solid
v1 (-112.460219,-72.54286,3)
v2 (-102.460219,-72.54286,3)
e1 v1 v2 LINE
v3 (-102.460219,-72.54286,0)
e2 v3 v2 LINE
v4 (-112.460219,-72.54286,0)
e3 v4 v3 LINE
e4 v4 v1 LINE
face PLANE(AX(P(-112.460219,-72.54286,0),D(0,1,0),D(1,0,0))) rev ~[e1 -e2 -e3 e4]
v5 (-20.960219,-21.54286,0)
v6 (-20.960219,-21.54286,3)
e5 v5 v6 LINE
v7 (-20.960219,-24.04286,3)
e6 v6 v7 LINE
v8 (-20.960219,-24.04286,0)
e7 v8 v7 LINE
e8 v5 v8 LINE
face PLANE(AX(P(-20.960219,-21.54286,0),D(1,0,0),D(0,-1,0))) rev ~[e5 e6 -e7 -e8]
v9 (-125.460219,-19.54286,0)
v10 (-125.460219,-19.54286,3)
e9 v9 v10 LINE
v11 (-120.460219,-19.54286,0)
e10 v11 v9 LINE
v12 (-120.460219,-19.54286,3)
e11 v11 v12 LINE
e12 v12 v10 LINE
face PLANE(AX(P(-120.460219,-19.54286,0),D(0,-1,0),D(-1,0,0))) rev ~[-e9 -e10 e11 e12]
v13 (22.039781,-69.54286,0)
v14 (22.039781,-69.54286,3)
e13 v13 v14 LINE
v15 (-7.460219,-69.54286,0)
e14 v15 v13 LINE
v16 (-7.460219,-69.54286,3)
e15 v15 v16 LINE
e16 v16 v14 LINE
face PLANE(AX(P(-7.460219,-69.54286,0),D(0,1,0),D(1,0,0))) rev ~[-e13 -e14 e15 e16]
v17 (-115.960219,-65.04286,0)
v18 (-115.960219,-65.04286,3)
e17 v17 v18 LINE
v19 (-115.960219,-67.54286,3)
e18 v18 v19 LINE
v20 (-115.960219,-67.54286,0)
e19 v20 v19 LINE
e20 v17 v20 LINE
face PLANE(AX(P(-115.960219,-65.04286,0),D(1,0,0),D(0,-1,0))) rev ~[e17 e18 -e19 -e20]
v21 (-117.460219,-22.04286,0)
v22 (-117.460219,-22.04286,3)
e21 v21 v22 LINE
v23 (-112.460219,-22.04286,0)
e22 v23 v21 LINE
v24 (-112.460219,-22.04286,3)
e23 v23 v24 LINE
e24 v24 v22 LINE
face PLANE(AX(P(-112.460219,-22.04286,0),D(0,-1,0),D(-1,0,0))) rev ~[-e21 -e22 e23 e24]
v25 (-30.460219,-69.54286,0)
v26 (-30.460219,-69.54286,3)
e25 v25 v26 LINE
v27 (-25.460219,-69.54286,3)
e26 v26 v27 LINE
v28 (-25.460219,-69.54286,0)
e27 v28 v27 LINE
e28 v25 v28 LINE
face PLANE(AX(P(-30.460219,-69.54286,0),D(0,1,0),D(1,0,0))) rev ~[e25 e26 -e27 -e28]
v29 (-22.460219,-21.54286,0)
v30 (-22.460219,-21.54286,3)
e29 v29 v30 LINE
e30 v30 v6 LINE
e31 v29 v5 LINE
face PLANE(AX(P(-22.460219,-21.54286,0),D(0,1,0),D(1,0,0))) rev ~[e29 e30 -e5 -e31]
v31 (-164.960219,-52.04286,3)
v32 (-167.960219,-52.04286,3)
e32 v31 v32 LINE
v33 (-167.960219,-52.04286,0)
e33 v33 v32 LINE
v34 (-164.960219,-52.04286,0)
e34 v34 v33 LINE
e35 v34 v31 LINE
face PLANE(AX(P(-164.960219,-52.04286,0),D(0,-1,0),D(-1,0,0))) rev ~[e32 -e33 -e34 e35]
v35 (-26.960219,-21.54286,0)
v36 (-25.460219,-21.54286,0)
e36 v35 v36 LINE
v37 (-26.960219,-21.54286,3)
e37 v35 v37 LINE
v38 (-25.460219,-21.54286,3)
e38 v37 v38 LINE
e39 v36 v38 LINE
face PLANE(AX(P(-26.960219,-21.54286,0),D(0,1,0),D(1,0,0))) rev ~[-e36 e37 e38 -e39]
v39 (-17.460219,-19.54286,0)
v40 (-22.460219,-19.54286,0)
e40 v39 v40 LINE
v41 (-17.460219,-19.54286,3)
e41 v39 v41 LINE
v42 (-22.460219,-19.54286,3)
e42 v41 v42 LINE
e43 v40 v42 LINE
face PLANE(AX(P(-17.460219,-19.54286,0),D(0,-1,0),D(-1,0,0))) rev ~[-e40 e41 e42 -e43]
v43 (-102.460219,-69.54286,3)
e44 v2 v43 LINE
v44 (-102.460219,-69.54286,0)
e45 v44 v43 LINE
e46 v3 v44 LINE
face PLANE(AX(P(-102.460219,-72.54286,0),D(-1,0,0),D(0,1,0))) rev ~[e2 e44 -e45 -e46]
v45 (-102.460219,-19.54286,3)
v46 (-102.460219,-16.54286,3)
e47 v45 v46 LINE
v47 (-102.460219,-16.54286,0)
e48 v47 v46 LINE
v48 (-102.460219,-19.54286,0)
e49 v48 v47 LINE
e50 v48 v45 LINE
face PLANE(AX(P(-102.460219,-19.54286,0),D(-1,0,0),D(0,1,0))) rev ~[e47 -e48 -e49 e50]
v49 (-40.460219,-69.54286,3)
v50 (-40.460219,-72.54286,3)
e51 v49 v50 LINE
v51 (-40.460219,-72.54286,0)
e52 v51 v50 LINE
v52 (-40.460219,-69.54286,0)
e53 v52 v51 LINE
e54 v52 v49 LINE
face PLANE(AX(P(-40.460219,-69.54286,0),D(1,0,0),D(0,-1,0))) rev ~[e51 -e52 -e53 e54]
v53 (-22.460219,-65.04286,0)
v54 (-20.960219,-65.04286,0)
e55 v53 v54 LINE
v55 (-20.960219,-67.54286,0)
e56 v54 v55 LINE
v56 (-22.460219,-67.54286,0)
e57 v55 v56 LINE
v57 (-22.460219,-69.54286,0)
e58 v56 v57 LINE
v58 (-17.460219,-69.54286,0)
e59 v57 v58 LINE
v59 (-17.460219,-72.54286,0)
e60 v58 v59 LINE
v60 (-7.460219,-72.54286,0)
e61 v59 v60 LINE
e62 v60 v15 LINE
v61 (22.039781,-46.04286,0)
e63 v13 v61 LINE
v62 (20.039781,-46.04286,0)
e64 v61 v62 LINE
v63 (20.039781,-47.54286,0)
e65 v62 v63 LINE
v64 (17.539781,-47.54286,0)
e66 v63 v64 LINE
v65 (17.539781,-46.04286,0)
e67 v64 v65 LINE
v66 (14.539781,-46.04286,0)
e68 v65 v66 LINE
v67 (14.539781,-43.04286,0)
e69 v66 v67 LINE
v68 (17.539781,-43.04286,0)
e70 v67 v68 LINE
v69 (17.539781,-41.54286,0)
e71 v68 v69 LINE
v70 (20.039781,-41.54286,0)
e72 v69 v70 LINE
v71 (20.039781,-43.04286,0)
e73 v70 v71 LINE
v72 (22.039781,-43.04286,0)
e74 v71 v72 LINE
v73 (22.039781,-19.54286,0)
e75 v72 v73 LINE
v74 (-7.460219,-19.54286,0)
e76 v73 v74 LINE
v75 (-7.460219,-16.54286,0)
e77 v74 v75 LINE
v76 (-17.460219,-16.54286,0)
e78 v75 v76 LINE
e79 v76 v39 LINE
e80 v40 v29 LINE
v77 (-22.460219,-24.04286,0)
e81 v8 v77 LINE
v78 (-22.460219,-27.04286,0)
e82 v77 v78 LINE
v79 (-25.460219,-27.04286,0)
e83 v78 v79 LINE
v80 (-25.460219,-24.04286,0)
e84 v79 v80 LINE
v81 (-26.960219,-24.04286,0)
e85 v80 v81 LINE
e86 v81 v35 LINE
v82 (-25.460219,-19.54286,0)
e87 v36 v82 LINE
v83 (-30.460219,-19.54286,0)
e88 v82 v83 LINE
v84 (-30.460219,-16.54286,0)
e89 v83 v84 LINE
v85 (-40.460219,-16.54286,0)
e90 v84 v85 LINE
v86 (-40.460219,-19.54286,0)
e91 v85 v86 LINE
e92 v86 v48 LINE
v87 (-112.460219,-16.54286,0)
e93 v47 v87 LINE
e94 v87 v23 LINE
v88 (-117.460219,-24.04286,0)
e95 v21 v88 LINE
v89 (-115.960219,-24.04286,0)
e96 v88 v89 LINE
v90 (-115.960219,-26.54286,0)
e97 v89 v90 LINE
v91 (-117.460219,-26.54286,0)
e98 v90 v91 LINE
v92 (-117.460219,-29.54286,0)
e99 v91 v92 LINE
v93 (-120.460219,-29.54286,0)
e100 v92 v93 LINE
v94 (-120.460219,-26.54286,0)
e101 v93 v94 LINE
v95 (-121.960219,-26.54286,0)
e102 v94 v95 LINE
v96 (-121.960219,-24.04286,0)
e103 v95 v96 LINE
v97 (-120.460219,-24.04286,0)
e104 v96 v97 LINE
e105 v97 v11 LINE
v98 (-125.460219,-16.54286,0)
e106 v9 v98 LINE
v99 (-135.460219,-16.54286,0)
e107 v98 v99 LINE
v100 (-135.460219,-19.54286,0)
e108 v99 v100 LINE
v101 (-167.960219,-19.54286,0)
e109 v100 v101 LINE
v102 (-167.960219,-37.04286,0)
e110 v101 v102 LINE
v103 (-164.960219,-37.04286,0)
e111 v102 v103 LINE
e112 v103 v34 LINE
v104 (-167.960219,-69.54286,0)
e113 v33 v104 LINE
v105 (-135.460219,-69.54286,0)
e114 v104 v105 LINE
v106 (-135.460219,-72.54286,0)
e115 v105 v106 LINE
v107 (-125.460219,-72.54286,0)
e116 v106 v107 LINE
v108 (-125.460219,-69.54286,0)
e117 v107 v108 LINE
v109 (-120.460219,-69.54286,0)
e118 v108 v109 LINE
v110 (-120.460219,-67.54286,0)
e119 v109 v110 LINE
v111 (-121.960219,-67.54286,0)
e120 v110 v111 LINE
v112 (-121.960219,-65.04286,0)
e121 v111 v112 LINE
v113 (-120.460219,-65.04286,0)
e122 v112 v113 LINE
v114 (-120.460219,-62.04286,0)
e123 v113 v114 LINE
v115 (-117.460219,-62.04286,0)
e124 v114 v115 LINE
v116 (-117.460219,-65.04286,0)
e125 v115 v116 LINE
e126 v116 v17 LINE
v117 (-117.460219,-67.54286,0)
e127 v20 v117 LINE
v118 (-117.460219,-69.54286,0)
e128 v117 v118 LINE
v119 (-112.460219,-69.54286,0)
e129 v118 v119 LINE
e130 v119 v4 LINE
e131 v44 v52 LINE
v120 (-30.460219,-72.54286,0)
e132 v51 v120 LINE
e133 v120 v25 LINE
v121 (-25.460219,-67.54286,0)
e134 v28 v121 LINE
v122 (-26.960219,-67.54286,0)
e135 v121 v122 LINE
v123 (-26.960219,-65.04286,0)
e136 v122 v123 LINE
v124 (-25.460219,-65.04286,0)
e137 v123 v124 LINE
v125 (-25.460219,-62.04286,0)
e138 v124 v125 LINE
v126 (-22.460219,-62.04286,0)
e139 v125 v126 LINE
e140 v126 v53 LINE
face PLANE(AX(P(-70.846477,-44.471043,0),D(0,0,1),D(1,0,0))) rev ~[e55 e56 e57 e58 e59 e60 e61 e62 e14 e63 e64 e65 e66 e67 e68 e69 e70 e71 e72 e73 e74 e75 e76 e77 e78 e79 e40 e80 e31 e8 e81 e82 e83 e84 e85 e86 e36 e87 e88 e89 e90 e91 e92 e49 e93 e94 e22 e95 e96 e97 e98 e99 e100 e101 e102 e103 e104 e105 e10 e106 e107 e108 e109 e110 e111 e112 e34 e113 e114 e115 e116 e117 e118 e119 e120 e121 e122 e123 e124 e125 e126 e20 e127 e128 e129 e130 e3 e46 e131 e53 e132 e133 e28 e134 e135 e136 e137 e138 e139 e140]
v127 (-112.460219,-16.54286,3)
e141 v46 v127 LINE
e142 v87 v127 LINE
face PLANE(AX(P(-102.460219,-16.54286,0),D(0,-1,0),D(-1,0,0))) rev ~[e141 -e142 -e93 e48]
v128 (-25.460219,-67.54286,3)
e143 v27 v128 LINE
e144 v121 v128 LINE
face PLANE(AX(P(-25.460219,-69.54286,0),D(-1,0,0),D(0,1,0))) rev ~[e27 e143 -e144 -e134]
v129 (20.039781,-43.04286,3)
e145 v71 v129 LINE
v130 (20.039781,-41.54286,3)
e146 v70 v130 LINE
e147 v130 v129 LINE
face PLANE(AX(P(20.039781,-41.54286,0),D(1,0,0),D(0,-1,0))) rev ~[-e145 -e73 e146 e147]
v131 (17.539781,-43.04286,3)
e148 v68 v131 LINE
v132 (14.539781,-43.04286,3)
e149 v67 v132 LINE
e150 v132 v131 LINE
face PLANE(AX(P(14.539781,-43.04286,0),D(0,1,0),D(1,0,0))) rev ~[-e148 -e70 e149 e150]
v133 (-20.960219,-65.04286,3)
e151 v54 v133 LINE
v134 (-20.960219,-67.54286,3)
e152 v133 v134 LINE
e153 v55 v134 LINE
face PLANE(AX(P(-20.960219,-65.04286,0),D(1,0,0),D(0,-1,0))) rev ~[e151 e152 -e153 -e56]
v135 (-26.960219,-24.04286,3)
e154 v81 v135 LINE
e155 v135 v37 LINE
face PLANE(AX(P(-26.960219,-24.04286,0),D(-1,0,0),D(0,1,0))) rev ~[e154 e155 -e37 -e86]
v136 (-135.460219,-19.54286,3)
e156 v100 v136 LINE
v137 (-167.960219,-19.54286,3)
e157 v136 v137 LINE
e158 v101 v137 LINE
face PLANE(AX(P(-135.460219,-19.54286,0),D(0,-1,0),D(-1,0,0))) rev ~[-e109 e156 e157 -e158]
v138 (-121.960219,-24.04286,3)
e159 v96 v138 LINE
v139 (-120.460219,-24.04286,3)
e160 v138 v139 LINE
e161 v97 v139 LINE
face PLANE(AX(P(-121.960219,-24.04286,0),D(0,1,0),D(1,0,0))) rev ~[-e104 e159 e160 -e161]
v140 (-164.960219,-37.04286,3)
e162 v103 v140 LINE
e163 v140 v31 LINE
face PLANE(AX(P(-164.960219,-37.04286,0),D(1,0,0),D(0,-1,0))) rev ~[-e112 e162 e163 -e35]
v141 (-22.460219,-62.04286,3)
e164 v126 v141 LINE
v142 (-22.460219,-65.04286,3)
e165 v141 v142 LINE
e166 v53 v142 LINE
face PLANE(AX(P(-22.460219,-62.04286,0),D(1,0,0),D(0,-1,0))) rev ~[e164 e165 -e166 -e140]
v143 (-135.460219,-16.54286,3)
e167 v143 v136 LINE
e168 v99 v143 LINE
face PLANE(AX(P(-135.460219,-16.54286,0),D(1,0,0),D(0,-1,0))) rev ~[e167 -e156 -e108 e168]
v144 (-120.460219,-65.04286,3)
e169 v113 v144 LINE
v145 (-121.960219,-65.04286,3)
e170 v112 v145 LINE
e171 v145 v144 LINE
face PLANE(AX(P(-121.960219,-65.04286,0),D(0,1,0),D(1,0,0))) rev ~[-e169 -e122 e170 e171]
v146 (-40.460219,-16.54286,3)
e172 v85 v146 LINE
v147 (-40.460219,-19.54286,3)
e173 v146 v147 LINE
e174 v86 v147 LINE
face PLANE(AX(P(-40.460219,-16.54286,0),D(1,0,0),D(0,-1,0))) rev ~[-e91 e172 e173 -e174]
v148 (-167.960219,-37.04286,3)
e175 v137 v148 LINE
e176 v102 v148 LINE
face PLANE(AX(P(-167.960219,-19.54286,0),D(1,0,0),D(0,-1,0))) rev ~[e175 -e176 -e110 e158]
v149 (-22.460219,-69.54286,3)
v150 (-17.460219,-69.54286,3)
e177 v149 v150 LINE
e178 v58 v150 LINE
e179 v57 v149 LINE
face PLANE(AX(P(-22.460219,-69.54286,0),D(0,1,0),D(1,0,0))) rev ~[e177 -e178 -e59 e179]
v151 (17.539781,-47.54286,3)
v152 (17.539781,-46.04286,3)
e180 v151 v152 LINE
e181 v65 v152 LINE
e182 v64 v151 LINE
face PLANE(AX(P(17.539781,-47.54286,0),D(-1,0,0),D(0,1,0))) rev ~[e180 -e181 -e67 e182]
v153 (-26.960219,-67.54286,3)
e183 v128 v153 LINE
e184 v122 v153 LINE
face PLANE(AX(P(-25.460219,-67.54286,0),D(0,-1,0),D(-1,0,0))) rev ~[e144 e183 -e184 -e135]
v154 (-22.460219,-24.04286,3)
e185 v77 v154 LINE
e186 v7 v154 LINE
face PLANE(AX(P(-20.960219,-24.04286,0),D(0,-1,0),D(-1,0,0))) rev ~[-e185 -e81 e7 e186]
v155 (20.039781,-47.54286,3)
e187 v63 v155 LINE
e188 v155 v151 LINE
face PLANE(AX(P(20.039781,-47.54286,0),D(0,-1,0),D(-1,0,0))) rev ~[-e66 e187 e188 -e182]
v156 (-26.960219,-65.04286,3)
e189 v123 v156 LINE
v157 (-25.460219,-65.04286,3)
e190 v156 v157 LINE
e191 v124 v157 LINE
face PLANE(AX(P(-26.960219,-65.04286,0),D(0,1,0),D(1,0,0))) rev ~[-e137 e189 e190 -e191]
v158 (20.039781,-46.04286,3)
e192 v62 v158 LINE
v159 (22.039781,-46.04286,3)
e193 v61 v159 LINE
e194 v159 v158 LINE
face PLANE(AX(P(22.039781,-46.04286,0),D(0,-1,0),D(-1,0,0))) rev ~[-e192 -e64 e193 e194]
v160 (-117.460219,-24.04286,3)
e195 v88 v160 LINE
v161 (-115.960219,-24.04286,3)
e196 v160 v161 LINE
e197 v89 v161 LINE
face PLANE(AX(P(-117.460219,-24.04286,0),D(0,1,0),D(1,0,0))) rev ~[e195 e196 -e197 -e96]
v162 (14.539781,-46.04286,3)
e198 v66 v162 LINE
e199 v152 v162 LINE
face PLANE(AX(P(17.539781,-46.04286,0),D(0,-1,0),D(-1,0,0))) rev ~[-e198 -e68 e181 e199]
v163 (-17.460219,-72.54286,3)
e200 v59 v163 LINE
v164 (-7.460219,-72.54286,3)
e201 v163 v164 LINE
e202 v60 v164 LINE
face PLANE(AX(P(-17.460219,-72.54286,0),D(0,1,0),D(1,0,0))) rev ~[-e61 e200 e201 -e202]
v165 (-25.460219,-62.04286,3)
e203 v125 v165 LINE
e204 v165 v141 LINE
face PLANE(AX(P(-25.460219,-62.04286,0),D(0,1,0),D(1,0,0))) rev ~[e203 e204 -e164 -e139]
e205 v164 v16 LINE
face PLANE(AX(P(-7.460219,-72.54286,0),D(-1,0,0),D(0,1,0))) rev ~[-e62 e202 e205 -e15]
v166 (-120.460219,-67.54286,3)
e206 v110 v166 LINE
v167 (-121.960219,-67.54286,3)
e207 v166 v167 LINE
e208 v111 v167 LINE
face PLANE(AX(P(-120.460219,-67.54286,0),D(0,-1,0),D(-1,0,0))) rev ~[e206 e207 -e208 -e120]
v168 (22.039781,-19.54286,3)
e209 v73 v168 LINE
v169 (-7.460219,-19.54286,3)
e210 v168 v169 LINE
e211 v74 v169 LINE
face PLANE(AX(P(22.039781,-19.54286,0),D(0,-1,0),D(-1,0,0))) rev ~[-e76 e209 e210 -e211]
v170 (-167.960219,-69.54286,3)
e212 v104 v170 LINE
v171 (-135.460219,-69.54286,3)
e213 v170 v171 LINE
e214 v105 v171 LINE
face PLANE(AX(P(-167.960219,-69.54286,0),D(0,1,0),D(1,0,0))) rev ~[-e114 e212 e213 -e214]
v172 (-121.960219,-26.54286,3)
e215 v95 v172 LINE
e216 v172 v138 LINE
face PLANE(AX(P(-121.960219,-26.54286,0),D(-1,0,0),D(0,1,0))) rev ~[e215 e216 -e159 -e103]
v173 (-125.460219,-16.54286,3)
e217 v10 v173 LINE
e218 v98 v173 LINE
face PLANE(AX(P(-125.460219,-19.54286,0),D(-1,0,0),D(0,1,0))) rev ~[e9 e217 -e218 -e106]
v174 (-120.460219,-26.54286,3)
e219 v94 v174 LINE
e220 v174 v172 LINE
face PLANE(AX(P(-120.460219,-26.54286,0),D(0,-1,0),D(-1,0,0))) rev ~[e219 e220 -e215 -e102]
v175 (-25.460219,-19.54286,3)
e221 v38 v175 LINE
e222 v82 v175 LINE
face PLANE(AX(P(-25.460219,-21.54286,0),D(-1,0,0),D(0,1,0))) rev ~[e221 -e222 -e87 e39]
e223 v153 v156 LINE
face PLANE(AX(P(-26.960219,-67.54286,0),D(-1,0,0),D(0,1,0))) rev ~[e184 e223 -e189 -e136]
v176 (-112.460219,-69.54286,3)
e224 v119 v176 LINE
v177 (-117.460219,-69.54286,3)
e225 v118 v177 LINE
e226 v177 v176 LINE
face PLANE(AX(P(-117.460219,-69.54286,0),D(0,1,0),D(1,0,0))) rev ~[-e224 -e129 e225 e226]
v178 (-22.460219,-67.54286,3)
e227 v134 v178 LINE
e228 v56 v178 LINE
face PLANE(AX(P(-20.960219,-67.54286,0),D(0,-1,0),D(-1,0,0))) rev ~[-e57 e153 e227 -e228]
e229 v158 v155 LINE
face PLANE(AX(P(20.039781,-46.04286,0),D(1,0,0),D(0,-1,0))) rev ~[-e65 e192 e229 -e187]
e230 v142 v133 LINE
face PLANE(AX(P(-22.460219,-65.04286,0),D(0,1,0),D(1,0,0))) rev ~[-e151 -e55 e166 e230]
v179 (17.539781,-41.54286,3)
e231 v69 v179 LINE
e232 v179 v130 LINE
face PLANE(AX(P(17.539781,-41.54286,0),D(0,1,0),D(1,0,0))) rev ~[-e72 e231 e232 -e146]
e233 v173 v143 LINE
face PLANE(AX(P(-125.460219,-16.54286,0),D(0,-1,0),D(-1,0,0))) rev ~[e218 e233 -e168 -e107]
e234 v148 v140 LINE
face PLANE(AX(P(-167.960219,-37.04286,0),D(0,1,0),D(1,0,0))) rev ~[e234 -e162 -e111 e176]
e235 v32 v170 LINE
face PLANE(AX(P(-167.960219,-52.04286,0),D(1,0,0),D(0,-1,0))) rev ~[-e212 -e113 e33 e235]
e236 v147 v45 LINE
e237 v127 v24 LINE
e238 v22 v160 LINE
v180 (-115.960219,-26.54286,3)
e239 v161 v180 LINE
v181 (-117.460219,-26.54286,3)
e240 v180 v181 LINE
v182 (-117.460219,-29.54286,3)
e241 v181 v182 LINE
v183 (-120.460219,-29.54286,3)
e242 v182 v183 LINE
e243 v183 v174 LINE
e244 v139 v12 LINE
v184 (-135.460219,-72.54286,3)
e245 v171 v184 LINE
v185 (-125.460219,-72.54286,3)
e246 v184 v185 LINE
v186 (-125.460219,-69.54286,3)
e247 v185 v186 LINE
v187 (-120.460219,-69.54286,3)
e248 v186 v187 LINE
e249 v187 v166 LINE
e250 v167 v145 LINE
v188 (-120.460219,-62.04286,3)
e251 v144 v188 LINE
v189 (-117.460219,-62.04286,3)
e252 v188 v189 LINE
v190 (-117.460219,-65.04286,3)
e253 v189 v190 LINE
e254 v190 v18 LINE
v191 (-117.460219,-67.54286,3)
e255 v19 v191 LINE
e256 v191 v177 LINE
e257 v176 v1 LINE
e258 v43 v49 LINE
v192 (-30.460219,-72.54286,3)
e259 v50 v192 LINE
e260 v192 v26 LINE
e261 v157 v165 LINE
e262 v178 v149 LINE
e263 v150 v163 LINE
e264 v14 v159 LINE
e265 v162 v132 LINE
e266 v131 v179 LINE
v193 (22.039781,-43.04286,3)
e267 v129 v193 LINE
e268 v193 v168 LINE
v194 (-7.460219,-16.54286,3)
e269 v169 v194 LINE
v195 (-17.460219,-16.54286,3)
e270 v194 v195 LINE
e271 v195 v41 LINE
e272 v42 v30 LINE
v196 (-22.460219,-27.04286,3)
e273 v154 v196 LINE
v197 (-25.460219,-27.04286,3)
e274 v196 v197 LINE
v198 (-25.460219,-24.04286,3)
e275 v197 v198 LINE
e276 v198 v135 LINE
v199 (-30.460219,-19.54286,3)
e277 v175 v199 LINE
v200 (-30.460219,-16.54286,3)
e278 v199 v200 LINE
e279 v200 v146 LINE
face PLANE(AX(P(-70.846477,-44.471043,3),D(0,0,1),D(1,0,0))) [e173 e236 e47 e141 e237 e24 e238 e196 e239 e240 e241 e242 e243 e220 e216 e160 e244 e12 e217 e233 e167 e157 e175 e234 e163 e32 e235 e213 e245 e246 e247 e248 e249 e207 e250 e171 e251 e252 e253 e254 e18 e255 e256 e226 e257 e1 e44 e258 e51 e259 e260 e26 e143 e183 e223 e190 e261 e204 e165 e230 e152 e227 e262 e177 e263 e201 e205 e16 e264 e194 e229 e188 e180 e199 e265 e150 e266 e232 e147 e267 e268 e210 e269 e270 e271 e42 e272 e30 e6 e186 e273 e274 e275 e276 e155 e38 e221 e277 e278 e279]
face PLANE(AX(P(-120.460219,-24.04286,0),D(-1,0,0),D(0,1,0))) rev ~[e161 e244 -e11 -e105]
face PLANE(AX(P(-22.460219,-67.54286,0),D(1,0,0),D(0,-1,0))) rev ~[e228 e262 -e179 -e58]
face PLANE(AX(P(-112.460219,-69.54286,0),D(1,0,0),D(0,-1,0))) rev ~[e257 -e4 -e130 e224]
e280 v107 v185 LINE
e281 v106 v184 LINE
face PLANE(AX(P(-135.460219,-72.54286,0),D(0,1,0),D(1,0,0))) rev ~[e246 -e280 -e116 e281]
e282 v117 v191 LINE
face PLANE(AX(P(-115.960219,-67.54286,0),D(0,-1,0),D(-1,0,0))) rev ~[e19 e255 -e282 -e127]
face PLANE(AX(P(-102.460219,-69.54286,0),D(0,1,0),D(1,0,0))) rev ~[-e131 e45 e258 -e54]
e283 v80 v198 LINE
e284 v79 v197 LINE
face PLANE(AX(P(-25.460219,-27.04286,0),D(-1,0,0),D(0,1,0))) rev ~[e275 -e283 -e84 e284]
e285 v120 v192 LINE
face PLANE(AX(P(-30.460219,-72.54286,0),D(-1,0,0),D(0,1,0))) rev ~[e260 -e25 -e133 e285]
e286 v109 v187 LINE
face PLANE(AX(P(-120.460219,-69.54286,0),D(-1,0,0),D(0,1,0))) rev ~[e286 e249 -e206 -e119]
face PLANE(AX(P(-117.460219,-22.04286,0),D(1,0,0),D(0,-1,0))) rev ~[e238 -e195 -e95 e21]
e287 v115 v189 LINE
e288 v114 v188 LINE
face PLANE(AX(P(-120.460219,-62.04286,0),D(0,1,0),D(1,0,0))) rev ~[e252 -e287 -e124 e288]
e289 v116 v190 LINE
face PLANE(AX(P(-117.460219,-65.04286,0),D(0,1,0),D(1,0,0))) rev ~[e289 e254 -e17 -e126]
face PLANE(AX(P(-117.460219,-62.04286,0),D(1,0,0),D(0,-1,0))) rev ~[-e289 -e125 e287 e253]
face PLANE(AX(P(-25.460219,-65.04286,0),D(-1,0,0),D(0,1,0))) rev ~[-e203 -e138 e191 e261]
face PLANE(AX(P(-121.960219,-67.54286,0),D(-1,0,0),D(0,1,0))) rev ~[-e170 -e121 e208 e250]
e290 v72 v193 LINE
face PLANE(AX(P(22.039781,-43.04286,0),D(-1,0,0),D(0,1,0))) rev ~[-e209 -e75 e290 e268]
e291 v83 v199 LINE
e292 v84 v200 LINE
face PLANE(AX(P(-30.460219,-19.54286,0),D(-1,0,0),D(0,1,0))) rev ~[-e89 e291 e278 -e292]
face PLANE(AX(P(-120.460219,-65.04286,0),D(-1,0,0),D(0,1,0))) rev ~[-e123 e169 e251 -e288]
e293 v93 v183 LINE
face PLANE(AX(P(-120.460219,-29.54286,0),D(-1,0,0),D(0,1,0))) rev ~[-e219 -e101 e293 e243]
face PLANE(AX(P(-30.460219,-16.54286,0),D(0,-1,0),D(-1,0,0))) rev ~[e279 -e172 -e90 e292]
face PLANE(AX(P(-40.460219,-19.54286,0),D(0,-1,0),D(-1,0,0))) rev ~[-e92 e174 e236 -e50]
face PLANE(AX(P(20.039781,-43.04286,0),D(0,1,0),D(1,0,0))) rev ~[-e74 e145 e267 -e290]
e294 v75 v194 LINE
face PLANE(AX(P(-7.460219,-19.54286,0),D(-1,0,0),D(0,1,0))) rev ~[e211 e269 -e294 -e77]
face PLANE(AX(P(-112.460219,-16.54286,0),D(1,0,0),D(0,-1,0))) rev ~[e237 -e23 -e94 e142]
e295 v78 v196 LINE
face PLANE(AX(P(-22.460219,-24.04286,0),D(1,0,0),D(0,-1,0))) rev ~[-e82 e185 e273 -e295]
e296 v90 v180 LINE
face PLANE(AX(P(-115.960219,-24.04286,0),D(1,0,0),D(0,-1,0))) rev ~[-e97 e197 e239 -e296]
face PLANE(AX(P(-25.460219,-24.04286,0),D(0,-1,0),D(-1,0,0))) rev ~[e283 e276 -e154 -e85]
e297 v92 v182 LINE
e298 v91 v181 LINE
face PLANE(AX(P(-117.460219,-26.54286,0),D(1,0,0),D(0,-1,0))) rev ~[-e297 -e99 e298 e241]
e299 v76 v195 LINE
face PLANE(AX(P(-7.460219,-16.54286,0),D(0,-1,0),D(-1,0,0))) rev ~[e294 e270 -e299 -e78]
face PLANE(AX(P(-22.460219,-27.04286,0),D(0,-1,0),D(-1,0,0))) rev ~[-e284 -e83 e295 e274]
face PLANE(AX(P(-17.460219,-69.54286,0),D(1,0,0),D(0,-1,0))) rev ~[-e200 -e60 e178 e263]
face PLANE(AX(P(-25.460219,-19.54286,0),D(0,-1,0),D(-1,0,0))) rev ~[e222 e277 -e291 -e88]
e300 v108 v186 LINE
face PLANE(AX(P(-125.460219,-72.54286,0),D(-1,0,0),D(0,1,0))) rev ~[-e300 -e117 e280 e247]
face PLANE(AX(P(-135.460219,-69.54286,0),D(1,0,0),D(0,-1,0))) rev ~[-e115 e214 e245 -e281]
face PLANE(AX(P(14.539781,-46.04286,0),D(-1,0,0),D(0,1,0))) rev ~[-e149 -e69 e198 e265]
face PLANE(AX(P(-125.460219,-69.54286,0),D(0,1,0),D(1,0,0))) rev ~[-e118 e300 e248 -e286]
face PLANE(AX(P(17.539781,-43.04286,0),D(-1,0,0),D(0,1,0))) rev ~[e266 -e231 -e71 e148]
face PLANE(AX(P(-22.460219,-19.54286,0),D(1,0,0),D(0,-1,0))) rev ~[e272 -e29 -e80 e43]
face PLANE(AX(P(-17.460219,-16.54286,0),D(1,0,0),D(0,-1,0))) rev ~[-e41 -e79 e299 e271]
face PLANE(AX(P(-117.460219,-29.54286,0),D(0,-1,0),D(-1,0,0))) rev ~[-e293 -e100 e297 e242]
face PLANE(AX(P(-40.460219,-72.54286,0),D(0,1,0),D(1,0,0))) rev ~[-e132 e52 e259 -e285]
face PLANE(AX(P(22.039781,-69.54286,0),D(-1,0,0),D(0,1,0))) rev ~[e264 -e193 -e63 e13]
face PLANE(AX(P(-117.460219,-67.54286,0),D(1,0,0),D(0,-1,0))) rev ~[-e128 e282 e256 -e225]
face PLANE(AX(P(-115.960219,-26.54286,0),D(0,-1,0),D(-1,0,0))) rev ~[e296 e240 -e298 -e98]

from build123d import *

# Parameters (mm, degrees)
F1_DEPTH = 3


with BuildPart() as f1:
    # F0 (on Top) → F1 (new body)
    with BuildSketch(Plane.XY):
        Polygon((22.039781, -43.04286), (22.039781, -19.54286), (-7.460219, -19.54286), (-7.460219, -16.54286), (-17.460219, -16.54286), (-17.460219, -19.54286), (-22.460219, -19.54286), (-22.460219, -21.54286), (-20.960219, -21.54286), (-20.960219, -24.04286), (-22.460219, -24.04286), (-22.460219, -27.04286), (-25.460219, -27.04286), (-25.460219, -24.04286), (-26.960219, -24.04286), (-26.960219, -21.54286), (-25.460219, -21.54286), (-25.460219, -19.54286), (-30.460219, -19.54286), (-30.460219, -16.54286), (-40.460219, -16.54286), (-40.460219, -19.54286), (-102.460219, -19.54286), (-102.460219, -16.54286), (-112.460219, -16.54286), (-112.460219, -22.04286), (-117.460219, -22.04286), (-117.460219, -24.04286), (-115.960219, -24.04286), (-115.960219, -26.54286), (-117.460219, -26.54286), (-117.460219, -29.54286), (-120.460219, -29.54286), (-120.460219, -26.54286), (-121.960219, -26.54286), (-121.960219, -24.04286), (-120.460219, -24.04286), (-120.460219, -19.54286), (-125.460219, -19.54286), (-125.460219, -16.54286), (-135.460219, -16.54286), (-135.460219, -19.54286), (-167.960219, -19.54286), (-167.960219, -37.04286), (-164.960219, -37.04286), (-164.960219, -52.04286), (-167.960219, -52.04286), (-167.960219, -69.54286), (-135.460219, -69.54286), (-135.460219, -72.54286), (-125.460219, -72.54286), (-125.460219, -69.54286), (-120.460219, -69.54286), (-120.460219, -67.54286), (-121.960219, -67.54286), (-121.960219, -65.04286), (-120.460219, -65.04286), (-120.460219, -62.04286), (-117.460219, -62.04286), (-117.460219, -65.04286), (-115.960219, -65.04286), (-115.960219, -67.54286), (-117.460219, -67.54286), (-117.460219, -69.54286), (-112.460219, -69.54286), (-112.460219, -72.54286), (-102.460219, -72.54286), (-102.460219, -69.54286), (-40.460219, -69.54286), (-40.460219, -72.54286), (-30.460219, -72.54286), (-30.460219, -69.54286), (-25.460219, -69.54286), (-25.460219, -67.54286), (-26.960219, -67.54286), (-26.960219, -65.04286), (-25.460219, -65.04286), (-25.460219, -62.04286), (-22.460219, -62.04286), (-22.460219, -65.04286), (-20.960219, -65.04286), (-20.960219, -67.54286), (-22.460219, -67.54286), (-22.460219, -69.54286), (-17.460219, -69.54286), (-17.460219, -72.54286), (-7.460219, -72.54286), (-7.460219, -69.54286), (22.039781, -69.54286), (22.039781, -46.04286), (20.039781, -46.04286), (20.039781, -47.54286), (17.539781, -47.54286), (17.539781, -46.04286), (14.539781, -46.04286), (14.539781, -43.04286), (17.539781, -43.04286), (17.539781, -41.54286), (20.039781, -41.54286), (20.039781, -43.04286), align=None)
    extrude(amount=F1_DEPTH)


solid = f1.part
